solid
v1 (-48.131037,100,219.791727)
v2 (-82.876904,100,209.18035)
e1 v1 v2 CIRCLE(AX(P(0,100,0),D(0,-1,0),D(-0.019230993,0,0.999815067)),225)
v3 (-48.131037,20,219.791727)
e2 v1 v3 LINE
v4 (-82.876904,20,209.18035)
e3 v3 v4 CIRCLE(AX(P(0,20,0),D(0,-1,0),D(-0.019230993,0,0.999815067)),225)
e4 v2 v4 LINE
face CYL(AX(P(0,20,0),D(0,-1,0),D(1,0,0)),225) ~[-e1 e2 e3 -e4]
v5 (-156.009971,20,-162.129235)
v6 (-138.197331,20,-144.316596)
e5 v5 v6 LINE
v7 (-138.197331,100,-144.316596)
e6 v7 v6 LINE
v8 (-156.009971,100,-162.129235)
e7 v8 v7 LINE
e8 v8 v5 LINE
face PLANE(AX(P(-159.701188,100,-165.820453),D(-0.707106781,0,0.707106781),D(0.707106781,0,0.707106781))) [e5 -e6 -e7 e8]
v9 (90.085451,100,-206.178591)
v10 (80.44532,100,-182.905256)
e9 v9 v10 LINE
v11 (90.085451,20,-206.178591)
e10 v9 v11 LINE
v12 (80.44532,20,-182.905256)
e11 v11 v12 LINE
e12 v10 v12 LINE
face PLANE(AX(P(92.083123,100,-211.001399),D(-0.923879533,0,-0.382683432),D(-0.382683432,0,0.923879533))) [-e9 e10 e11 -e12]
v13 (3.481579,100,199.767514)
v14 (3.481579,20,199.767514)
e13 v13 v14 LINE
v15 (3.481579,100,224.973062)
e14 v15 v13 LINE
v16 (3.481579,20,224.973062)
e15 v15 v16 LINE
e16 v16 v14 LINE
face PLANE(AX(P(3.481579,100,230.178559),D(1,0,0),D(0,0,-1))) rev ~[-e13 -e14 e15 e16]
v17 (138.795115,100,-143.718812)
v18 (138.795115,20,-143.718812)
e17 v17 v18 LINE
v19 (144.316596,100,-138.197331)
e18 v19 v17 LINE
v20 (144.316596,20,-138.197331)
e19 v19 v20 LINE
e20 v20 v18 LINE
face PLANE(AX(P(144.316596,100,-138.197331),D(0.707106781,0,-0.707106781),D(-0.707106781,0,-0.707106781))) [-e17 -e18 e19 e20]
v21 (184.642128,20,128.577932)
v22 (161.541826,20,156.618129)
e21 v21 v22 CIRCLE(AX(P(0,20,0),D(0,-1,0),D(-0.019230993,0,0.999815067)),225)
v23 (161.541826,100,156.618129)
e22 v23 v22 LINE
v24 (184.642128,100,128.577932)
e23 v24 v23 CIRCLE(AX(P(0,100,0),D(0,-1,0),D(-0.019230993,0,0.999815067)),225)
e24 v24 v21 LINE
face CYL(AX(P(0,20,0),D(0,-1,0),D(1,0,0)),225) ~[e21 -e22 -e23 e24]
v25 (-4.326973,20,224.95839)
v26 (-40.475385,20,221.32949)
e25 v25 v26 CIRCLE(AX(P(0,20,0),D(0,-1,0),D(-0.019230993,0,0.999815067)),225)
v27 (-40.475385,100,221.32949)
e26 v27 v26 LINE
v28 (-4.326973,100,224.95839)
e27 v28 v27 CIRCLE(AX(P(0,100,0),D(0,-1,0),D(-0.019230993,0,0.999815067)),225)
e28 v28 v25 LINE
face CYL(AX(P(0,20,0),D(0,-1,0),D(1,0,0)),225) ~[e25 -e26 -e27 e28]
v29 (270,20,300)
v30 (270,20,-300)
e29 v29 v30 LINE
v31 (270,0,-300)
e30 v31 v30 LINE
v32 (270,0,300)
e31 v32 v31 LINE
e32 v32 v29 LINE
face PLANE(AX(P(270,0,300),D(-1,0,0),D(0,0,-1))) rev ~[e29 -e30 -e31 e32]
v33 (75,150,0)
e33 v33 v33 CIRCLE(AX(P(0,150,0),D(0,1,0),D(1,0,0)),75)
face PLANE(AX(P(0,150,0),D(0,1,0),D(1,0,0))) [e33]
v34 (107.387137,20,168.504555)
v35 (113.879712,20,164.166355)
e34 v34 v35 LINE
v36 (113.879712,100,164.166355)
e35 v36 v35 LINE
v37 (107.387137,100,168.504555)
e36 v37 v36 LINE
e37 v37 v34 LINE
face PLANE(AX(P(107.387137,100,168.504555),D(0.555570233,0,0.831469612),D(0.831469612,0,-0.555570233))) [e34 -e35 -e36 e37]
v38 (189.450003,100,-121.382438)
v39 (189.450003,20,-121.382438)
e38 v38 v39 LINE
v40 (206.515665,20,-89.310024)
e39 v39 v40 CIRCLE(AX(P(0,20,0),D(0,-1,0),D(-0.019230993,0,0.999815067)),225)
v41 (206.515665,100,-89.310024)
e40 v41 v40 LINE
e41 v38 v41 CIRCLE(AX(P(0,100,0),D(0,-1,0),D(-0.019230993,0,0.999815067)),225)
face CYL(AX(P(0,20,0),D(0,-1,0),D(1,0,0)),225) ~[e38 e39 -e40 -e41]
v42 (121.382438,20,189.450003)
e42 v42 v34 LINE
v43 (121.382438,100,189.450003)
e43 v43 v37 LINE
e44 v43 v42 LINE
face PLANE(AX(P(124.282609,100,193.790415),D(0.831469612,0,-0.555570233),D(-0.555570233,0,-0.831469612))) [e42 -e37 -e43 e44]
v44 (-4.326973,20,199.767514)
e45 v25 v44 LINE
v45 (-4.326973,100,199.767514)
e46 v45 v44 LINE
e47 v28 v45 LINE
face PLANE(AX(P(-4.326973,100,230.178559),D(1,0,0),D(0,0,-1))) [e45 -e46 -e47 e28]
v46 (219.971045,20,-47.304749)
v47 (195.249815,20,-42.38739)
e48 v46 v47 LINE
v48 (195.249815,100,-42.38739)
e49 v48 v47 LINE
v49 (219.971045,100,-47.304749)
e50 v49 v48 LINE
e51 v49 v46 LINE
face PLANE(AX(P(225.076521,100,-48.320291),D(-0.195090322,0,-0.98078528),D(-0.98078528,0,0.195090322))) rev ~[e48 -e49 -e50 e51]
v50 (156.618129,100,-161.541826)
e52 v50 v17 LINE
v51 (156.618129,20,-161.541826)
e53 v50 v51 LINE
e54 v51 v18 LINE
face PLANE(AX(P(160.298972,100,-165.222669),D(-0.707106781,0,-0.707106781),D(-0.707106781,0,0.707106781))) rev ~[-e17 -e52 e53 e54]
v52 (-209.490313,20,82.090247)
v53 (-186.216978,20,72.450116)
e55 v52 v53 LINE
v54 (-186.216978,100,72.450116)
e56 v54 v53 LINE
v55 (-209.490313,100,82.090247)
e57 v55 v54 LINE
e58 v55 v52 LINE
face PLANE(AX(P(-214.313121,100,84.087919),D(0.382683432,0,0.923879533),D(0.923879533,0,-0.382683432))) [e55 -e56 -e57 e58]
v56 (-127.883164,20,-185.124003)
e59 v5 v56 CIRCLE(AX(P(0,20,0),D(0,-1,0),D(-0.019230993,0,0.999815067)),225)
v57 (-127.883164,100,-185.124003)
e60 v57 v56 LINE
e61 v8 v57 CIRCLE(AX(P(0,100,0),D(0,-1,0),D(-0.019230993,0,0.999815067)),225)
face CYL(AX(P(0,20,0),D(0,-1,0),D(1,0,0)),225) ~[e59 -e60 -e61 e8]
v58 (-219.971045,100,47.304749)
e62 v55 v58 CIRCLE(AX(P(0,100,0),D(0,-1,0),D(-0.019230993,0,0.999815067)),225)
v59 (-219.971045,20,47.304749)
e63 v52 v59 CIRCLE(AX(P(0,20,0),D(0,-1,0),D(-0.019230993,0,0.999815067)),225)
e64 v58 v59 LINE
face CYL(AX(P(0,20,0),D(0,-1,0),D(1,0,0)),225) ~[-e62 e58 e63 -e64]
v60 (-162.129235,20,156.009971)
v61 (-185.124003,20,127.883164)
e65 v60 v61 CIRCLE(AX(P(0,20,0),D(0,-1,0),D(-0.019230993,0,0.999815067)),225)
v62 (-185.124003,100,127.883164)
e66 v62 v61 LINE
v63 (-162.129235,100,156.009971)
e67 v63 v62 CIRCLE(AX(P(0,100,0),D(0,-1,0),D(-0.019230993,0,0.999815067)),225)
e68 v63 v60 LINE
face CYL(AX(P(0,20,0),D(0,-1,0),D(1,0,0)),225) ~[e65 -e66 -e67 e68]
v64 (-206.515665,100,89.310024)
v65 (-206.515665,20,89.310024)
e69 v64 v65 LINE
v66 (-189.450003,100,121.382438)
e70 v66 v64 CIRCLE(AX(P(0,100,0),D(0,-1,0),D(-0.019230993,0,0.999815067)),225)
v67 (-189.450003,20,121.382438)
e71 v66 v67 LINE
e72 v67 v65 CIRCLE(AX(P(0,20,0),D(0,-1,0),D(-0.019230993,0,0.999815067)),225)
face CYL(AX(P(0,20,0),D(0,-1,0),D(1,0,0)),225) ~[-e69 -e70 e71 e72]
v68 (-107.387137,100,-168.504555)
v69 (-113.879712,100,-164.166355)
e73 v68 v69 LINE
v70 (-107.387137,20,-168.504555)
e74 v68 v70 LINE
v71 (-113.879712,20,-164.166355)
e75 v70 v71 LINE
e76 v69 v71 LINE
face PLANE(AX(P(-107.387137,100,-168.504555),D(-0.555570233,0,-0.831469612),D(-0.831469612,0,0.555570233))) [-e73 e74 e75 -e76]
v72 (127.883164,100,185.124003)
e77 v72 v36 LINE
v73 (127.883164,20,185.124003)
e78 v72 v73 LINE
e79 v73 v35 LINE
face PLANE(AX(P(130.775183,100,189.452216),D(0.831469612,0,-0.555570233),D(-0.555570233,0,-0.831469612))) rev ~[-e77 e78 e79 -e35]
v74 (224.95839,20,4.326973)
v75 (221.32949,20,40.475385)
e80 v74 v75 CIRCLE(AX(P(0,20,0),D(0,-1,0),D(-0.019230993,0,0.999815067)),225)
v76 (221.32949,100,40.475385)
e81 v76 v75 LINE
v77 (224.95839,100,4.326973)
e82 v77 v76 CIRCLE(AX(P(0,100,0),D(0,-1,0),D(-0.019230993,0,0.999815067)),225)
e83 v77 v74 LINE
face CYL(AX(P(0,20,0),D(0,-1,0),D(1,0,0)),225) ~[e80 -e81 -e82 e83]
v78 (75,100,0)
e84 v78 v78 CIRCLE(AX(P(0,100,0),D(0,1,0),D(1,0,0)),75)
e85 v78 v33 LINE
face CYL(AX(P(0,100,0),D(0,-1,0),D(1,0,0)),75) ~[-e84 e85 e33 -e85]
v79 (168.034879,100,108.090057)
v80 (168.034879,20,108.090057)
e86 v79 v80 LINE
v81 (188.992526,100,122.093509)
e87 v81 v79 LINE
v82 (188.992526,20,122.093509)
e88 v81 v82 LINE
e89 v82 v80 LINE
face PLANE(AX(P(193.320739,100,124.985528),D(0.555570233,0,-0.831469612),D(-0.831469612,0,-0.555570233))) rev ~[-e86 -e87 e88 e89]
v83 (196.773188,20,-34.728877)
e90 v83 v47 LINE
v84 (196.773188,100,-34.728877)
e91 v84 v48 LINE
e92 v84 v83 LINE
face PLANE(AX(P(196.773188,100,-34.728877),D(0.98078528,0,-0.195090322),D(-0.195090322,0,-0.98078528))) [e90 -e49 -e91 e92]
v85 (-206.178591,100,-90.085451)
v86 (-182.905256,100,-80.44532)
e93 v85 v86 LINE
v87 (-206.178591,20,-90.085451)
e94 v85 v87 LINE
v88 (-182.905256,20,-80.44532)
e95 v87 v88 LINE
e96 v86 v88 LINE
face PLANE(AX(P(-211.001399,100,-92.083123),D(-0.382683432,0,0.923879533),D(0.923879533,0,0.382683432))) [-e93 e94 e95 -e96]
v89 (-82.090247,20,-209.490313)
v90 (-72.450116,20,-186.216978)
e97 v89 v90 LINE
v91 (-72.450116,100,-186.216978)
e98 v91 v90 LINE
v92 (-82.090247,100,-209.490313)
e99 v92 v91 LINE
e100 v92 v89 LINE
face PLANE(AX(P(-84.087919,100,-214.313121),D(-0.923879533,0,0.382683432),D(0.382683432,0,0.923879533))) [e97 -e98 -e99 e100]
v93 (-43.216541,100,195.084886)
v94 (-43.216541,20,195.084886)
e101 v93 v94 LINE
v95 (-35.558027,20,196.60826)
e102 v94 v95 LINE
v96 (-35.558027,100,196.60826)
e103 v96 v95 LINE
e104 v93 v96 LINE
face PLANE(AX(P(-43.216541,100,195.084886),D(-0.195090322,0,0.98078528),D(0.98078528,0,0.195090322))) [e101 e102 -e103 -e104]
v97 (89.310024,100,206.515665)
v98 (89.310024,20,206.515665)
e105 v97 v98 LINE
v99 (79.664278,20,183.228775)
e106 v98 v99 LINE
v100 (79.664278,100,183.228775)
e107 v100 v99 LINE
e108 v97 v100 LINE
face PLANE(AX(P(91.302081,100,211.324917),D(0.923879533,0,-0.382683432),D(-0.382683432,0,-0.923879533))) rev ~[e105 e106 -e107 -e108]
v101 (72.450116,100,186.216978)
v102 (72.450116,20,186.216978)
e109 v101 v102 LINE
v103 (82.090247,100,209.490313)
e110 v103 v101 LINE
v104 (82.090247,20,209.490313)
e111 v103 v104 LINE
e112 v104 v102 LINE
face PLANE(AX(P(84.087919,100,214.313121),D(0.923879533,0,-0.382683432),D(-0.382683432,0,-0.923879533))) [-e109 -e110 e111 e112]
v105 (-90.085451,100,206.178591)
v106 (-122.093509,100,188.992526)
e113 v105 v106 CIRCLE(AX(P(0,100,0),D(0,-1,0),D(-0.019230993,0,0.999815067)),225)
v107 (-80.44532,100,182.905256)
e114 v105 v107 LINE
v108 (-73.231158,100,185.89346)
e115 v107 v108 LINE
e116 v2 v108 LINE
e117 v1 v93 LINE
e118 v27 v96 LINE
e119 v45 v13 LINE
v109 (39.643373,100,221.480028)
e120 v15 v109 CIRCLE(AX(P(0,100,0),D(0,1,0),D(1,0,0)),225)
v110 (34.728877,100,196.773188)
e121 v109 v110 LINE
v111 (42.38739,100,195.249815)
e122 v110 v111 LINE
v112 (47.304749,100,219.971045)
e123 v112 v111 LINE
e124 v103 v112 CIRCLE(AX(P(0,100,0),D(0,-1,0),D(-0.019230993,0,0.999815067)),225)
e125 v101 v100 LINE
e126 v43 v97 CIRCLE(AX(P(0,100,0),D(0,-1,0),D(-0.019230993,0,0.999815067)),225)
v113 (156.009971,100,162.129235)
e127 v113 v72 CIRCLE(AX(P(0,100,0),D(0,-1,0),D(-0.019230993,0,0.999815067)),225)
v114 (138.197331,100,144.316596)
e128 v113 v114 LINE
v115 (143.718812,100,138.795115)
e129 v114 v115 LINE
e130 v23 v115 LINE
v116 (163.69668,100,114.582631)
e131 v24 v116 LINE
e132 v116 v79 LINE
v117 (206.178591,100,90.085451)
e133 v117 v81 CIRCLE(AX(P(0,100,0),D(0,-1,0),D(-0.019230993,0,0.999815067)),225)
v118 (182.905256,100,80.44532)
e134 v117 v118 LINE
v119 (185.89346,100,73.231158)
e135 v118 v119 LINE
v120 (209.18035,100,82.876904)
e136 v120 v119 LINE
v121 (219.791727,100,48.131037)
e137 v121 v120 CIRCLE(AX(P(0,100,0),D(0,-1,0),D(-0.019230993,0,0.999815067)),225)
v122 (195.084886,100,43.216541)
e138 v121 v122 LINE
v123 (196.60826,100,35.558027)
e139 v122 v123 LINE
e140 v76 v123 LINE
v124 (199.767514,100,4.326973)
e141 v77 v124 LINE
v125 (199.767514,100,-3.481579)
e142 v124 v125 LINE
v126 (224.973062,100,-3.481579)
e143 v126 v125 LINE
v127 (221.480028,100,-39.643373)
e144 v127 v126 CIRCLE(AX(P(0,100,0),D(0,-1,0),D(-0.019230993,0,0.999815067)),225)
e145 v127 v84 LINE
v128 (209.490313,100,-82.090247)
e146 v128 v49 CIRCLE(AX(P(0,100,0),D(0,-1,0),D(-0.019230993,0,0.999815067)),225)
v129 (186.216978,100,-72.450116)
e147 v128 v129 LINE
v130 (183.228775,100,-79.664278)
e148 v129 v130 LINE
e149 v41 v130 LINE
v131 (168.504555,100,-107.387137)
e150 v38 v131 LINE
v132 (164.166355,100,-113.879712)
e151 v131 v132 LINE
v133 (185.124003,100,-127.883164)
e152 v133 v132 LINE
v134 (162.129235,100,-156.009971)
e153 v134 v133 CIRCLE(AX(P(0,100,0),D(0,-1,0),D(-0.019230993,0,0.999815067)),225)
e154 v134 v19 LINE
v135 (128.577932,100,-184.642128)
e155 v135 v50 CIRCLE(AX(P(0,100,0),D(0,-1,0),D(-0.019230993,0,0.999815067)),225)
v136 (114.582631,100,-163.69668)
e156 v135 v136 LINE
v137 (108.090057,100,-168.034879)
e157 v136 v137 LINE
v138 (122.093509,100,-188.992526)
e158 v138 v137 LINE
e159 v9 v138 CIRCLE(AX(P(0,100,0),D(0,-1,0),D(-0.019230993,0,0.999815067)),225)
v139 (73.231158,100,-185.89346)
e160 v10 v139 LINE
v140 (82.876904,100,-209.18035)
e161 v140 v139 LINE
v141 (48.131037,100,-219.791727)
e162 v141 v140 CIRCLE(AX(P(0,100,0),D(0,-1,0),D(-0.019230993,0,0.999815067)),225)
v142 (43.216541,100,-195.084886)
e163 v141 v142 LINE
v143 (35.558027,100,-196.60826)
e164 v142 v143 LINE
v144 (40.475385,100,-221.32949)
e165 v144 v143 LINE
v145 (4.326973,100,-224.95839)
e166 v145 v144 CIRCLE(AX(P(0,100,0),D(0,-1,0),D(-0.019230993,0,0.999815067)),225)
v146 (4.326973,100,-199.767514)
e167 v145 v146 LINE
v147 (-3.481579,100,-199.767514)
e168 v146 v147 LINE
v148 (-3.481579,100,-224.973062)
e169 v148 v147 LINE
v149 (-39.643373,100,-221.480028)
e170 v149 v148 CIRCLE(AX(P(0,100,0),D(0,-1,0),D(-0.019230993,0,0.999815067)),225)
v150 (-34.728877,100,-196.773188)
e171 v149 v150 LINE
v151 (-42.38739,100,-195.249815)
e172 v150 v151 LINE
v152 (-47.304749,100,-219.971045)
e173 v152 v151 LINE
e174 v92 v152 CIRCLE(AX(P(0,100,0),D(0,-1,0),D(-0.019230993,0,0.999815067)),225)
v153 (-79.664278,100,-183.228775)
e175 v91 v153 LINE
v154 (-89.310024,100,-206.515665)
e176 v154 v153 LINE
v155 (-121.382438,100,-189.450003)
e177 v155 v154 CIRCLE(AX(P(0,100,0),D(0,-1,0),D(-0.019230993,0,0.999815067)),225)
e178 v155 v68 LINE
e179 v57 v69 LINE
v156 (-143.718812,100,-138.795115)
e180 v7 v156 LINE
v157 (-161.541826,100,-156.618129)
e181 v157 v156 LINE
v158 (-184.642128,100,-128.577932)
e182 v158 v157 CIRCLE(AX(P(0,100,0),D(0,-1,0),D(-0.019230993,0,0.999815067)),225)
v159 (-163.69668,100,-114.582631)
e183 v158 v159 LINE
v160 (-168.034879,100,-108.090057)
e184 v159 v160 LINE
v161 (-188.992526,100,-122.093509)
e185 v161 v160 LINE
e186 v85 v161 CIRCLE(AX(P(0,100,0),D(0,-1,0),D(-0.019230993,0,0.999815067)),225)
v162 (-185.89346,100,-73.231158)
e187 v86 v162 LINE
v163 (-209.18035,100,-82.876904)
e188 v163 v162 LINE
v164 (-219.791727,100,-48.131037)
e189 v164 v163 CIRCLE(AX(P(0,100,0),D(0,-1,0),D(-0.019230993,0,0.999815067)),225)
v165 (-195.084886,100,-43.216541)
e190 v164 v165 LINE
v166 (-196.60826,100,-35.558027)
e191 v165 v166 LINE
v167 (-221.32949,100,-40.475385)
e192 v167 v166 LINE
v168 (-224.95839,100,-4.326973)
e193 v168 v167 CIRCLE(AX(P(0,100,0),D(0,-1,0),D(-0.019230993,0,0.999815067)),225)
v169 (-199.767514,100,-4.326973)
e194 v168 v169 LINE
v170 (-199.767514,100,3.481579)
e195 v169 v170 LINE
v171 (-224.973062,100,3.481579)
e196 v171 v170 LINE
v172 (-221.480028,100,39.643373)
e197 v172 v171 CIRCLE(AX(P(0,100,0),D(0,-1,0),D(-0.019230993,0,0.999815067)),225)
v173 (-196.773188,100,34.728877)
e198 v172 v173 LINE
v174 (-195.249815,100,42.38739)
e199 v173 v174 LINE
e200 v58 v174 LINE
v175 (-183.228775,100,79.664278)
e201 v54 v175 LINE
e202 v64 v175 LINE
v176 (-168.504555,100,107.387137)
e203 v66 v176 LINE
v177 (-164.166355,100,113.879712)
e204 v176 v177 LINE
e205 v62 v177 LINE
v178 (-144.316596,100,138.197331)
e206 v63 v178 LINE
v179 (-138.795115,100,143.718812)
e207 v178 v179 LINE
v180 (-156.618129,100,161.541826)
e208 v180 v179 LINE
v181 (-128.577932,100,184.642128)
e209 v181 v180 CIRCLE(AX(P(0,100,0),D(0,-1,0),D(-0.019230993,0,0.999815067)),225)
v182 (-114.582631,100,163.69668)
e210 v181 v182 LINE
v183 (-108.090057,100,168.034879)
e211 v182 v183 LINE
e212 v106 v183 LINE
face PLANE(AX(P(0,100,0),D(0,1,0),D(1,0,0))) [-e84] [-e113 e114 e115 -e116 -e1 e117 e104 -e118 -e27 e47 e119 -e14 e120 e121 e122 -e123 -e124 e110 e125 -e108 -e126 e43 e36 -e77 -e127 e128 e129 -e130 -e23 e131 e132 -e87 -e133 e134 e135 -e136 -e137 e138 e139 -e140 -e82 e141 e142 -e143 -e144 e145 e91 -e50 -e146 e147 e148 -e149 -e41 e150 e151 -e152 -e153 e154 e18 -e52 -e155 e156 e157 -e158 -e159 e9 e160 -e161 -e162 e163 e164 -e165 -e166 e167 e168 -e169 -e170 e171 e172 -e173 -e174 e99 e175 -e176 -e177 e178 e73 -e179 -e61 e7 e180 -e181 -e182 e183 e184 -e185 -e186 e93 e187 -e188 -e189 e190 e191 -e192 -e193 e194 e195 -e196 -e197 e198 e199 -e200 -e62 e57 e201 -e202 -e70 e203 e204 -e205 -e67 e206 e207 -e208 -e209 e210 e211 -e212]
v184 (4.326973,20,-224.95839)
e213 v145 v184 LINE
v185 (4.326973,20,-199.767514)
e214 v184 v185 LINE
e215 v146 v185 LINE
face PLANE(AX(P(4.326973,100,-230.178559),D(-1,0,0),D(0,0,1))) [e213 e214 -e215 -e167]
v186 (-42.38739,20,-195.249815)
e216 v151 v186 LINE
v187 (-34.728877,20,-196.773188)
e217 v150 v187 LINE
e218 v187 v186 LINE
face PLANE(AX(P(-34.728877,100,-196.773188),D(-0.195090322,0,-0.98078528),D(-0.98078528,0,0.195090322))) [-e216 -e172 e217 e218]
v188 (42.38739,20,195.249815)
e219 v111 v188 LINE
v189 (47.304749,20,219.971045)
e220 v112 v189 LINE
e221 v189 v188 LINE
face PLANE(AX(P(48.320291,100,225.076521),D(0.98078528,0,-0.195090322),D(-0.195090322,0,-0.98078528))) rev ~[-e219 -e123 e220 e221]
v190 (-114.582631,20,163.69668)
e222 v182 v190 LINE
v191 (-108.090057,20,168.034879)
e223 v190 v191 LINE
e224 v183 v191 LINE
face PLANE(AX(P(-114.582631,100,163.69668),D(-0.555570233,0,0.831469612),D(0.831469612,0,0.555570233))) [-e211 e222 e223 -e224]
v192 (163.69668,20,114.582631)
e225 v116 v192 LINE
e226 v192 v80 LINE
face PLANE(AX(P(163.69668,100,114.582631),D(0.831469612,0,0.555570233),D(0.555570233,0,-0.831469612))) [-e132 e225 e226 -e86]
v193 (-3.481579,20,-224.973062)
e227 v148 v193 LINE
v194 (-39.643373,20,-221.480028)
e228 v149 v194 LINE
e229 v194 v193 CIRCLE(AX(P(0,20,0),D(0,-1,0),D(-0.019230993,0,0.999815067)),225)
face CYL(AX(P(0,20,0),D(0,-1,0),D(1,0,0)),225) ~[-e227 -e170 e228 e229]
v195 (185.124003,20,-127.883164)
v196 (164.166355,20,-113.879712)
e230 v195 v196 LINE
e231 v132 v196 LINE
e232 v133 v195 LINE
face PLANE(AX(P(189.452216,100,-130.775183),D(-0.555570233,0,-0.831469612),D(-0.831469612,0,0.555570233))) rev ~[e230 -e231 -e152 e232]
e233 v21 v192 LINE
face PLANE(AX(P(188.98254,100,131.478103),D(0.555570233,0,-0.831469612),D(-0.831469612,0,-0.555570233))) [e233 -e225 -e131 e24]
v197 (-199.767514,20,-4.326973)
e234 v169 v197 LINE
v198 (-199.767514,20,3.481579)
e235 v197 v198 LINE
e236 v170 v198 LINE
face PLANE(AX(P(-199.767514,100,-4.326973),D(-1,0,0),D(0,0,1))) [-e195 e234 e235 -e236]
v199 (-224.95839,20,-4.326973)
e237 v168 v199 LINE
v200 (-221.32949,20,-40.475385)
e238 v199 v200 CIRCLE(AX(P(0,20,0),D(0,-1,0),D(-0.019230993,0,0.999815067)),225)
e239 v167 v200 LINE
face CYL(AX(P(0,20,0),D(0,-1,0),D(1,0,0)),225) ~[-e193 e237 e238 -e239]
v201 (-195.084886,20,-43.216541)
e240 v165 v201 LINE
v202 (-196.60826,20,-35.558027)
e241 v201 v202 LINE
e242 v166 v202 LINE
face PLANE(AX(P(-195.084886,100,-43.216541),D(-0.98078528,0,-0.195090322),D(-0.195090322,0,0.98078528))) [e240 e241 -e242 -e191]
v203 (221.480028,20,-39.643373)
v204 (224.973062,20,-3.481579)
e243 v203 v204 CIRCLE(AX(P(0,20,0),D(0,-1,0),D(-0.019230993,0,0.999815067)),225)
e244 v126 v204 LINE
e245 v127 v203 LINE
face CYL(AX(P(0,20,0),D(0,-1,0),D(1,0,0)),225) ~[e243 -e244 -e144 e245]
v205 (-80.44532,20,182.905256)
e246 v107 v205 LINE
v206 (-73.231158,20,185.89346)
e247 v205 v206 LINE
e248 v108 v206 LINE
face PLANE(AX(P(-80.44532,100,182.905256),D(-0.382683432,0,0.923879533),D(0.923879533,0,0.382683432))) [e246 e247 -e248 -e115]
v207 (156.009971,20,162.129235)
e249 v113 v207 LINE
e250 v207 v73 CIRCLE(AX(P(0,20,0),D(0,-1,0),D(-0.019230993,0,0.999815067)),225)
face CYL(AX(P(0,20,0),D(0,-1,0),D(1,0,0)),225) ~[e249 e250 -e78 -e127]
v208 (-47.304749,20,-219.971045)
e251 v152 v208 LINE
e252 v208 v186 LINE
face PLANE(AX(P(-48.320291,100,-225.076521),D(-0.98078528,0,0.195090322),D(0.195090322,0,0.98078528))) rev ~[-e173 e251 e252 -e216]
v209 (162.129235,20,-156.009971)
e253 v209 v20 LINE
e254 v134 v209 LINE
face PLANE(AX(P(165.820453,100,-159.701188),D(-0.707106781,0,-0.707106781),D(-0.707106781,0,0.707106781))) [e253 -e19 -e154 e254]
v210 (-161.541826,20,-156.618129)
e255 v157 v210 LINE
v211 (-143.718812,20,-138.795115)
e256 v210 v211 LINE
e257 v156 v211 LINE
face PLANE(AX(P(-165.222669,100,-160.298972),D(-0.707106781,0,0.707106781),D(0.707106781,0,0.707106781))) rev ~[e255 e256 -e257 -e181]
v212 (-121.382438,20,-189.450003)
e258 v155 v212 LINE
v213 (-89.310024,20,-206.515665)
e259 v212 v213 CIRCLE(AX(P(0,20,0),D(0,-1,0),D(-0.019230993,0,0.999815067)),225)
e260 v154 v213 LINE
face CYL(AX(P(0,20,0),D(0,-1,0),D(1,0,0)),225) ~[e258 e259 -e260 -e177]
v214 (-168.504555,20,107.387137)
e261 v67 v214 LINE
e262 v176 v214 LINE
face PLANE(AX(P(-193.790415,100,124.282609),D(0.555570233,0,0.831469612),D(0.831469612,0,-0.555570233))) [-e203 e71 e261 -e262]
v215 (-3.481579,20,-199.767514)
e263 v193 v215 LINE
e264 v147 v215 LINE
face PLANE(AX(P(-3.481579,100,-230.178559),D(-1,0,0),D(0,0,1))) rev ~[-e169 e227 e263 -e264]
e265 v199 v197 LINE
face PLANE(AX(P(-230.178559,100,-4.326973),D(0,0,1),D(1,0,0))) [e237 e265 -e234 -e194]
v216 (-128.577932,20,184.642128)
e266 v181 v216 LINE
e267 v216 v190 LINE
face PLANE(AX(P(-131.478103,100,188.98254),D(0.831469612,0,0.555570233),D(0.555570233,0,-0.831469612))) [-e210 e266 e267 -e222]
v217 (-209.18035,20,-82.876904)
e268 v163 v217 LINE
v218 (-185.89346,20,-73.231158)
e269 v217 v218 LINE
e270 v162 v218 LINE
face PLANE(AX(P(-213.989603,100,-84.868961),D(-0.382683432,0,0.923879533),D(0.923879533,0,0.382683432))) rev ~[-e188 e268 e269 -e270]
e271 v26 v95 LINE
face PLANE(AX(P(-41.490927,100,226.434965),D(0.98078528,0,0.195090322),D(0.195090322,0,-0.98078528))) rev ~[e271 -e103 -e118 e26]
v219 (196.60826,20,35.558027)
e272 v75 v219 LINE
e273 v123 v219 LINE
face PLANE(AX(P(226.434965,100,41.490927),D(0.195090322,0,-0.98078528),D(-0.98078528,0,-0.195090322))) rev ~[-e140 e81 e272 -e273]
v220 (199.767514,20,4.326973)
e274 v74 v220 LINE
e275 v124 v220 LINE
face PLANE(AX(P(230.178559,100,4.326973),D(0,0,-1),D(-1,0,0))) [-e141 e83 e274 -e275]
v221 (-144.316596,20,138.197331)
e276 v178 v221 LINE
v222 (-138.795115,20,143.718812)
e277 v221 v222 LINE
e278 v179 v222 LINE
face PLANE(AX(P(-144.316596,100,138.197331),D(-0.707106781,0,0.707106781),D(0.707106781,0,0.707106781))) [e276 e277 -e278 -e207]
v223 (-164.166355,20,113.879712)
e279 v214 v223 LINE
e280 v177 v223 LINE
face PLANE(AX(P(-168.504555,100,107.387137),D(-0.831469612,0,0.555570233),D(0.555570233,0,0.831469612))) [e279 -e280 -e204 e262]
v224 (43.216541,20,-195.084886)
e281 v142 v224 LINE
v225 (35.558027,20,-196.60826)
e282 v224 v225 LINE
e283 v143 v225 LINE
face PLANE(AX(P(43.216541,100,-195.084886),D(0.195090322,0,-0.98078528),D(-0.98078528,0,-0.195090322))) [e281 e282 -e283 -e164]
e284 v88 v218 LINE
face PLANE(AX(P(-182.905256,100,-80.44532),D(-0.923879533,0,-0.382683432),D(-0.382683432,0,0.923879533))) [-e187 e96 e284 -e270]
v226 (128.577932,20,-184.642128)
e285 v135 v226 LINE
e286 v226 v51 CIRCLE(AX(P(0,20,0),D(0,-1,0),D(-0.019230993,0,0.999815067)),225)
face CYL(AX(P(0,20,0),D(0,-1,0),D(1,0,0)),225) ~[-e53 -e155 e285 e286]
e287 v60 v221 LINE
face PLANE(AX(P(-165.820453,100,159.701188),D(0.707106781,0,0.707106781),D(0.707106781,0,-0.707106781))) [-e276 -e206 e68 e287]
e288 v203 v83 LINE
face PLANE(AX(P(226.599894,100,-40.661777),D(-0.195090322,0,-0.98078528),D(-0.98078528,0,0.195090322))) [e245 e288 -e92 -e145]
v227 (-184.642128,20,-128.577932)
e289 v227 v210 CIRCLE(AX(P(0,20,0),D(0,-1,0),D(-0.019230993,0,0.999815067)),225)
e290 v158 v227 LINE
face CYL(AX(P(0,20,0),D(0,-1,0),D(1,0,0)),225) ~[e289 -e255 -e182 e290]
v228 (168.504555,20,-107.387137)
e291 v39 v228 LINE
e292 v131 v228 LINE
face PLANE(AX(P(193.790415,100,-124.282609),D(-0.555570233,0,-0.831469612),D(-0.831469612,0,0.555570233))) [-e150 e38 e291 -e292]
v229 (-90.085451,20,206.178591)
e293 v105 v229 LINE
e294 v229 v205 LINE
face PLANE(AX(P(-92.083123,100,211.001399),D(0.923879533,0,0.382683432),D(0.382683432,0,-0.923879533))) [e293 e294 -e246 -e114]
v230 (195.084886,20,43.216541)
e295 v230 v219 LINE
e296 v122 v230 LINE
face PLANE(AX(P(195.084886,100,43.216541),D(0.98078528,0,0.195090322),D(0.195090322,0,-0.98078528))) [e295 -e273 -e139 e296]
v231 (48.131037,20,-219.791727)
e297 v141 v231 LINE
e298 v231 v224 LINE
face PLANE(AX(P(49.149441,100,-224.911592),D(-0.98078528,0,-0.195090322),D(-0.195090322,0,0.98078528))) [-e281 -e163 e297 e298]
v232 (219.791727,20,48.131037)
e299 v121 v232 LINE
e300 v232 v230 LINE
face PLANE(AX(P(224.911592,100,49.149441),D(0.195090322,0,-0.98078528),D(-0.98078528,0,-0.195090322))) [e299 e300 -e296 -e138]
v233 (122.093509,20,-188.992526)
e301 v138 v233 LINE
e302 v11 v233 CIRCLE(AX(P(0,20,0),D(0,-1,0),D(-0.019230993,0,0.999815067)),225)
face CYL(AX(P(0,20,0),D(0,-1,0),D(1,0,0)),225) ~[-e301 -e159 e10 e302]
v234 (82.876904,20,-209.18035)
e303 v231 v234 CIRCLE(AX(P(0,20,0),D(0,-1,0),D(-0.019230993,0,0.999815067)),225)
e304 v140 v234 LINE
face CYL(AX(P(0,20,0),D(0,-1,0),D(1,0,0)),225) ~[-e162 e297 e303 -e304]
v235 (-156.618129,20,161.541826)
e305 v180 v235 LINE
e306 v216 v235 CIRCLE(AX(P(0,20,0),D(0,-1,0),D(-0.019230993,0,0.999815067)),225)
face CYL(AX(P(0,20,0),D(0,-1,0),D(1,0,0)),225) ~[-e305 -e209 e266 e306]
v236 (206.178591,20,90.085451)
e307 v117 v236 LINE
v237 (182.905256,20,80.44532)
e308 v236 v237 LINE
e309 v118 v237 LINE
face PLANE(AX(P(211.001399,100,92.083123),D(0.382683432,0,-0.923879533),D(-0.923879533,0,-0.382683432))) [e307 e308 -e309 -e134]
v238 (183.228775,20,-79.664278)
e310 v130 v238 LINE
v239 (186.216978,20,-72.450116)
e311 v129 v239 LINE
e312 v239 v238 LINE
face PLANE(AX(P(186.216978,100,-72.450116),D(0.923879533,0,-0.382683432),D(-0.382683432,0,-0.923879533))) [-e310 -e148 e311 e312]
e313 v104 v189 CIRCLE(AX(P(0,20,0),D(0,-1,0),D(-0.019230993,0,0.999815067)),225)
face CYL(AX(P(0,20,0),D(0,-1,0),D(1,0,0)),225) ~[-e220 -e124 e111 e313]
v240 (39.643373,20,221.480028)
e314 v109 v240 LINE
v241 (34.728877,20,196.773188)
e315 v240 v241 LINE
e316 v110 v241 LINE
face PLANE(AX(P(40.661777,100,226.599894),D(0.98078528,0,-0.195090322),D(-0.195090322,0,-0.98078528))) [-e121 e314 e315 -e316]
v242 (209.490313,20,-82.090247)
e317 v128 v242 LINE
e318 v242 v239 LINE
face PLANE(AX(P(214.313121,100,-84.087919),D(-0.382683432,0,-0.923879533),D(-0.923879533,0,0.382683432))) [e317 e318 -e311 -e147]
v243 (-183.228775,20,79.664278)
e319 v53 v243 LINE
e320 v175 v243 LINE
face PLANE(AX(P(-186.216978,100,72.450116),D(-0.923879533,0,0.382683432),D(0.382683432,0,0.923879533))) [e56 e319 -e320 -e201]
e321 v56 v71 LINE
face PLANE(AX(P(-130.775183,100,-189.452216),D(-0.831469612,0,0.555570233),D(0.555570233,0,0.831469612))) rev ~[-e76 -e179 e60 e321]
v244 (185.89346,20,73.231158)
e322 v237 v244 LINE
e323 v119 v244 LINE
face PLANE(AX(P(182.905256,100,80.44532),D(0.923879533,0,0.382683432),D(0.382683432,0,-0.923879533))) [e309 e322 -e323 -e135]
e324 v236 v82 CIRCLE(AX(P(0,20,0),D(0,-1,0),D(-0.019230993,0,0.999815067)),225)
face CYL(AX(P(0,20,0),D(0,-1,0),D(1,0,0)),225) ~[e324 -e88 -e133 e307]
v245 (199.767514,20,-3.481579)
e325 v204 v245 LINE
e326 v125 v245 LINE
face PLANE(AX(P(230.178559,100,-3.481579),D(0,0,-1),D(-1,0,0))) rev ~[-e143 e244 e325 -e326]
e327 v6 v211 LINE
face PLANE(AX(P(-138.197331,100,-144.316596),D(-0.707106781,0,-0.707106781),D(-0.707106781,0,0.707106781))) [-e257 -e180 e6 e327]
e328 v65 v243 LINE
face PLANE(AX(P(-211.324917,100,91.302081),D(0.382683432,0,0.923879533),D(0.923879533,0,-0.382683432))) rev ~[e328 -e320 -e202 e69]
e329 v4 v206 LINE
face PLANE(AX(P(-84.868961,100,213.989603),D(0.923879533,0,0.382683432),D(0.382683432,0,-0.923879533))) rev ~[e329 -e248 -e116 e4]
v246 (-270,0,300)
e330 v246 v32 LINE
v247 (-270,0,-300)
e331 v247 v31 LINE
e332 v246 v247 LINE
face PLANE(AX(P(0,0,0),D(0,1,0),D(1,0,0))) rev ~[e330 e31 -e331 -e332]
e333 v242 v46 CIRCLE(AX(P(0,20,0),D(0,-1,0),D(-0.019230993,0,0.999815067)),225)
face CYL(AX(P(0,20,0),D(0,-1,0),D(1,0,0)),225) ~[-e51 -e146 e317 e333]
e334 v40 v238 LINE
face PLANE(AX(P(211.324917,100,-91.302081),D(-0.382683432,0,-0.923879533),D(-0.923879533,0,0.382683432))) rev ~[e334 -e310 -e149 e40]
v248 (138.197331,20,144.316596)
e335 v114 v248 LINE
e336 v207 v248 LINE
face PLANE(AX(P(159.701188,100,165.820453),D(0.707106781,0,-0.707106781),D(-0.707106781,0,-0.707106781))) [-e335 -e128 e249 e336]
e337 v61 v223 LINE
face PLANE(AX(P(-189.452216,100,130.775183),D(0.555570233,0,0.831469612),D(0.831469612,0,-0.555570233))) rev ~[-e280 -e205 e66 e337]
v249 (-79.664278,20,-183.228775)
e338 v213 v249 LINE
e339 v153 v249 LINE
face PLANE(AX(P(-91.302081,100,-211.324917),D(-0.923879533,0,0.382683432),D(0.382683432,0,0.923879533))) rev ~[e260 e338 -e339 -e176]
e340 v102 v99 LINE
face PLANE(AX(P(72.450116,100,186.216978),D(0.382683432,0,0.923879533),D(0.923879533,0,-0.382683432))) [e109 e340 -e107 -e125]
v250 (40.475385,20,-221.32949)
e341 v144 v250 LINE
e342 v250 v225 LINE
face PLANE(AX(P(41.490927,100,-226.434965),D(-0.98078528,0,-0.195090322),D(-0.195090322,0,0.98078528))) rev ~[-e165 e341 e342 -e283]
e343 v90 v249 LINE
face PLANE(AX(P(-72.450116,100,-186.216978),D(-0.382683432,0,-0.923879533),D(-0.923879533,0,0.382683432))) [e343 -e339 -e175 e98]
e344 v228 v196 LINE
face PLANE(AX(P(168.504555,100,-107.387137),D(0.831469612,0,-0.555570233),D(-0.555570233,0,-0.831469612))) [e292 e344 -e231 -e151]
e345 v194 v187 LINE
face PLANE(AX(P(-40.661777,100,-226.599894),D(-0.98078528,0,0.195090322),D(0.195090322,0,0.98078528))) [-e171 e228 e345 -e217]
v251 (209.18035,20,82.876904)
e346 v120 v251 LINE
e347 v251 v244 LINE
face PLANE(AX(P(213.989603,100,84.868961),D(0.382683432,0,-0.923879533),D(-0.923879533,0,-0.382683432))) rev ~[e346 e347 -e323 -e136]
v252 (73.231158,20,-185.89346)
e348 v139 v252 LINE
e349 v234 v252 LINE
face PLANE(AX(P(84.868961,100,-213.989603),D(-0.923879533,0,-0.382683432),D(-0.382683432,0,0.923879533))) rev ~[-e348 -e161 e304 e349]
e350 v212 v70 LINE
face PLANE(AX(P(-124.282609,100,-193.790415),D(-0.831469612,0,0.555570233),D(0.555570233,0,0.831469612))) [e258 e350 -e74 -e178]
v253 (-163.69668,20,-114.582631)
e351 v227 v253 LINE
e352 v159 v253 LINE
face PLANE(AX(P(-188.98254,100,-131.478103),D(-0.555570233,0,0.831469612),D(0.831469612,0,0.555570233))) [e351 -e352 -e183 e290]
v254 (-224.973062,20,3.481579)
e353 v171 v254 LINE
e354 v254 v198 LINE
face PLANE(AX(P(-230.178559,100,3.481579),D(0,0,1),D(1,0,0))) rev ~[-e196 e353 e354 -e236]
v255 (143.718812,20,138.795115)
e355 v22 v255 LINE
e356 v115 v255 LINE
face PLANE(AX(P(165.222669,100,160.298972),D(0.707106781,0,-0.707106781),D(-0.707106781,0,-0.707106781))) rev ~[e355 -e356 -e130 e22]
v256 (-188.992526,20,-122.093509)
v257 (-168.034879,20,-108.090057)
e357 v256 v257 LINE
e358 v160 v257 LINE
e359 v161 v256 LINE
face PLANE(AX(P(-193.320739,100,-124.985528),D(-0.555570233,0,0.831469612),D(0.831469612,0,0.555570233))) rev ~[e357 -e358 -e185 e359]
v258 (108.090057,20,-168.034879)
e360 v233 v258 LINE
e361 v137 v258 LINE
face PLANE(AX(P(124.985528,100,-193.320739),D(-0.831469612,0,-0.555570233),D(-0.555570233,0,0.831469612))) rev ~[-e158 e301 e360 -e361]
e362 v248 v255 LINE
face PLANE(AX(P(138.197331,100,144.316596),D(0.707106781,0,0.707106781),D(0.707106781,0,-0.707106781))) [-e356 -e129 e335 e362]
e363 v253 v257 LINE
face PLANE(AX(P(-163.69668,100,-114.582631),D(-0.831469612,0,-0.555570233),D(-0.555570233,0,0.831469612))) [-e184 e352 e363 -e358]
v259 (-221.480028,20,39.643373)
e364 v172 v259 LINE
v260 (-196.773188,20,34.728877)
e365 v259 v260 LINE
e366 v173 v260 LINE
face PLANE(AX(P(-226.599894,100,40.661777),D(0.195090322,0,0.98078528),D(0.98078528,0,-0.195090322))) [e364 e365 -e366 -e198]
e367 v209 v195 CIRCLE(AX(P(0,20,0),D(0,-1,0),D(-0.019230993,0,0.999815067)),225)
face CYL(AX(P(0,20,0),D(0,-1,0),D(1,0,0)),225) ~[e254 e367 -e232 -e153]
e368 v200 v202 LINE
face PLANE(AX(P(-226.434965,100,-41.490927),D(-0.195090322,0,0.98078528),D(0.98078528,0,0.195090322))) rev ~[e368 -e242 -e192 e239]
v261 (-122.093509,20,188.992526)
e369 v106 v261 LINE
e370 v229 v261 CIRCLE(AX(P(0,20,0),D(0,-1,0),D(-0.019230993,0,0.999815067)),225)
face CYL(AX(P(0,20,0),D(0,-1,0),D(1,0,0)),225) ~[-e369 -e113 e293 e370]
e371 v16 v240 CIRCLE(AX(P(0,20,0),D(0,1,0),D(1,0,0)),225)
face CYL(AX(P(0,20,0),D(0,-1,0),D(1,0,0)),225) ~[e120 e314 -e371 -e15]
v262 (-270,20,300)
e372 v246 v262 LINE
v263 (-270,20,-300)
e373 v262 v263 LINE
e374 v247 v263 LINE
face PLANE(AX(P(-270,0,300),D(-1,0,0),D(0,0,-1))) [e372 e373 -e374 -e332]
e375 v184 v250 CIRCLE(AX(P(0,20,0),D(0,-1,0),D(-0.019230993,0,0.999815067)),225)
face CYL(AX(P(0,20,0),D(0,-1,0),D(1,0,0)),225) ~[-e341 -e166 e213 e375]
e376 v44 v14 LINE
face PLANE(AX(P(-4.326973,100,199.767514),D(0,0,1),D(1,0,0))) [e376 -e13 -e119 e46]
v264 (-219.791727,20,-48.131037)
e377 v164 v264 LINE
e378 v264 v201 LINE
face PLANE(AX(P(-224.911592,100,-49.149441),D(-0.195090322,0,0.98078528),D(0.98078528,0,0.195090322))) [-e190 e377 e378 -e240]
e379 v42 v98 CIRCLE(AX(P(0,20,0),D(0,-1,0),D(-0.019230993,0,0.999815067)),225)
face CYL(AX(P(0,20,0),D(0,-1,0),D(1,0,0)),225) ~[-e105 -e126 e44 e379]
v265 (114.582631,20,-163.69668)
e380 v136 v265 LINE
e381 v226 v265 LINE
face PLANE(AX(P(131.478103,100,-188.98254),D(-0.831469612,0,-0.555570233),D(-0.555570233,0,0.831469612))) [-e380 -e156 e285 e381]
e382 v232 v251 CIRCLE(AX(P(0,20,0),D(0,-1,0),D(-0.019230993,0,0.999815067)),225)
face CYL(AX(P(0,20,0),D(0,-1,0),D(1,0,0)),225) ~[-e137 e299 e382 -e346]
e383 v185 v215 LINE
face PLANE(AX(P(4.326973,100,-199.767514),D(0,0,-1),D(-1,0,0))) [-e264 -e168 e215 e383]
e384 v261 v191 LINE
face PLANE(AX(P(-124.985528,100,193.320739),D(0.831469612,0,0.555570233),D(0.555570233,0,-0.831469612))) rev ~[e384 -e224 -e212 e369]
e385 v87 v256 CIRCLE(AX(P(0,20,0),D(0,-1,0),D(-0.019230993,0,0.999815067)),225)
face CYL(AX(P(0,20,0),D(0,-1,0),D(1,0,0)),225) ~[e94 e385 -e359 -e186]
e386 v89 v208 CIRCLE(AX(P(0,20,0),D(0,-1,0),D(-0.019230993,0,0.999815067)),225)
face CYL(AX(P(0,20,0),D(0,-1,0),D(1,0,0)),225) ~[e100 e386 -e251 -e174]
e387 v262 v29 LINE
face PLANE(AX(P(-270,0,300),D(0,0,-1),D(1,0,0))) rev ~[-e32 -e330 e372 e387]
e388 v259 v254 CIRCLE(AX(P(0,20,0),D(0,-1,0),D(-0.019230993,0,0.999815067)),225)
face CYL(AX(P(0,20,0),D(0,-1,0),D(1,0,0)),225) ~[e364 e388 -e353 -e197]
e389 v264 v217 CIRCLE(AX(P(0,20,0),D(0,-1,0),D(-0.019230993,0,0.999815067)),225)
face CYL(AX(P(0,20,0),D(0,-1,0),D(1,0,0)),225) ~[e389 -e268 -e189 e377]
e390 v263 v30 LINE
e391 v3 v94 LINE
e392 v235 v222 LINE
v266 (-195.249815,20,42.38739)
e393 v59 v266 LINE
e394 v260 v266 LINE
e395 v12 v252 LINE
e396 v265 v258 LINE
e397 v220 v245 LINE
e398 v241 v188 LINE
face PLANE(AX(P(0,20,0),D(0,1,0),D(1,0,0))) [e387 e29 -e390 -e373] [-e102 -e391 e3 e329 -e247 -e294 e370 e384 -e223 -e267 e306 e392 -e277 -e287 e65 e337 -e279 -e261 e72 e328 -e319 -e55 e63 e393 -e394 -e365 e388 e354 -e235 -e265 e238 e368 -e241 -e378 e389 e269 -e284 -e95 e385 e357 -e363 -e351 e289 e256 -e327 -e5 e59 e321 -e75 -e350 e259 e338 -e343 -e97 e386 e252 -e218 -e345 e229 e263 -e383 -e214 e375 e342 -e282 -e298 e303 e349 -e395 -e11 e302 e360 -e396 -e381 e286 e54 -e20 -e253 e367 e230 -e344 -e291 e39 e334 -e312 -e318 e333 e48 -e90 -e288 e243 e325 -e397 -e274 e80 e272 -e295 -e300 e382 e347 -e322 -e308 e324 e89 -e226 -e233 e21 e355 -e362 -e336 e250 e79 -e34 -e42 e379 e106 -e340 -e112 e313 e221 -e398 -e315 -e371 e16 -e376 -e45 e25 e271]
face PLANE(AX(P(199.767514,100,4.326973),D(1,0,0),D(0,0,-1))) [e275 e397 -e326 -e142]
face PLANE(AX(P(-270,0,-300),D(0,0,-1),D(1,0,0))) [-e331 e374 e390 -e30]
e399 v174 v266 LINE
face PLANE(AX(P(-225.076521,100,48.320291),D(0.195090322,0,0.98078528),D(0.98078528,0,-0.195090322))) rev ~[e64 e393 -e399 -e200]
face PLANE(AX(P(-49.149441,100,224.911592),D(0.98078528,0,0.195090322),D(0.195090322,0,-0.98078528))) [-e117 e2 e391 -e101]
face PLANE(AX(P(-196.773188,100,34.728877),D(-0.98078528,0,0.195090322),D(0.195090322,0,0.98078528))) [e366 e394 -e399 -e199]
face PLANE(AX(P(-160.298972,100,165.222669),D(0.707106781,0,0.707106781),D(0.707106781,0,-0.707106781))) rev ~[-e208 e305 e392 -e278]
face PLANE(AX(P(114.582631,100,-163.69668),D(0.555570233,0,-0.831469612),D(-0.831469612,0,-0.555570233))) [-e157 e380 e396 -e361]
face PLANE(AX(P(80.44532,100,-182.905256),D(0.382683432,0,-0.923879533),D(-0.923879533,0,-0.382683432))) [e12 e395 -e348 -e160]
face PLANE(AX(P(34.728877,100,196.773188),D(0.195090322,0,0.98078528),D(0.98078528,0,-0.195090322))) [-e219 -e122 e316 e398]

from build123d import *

# Parameters (mm, degrees)
SKETCH1_W           = 540
SKETCH1_H           = 600
BOSS_EXTRUDE1_DEPTH = 20
SKETCH2_R           = 225
BOSS_EXTRUDE2_DEPTH = 80
SKETCH3_R           = 75
BOSS_EXTRUDE3_DEPTH = 50
SKETCH4_W           = 7.808552915
SKETCH4_H           = 30.411045622
CUT_EXTRUDE2_DEPTH  = 80
CIRPATTERN1_COUNT   = 32


with BuildPart() as part:
    # Sketch1 → Boss-Extrude1 (new body)
    with BuildSketch(Plane(origin=(0, 0, 0), x_dir=(1, 0, 0), z_dir=(0, 1, 0))):
        Rectangle(SKETCH1_W, SKETCH1_H)
    extrude(amount=BOSS_EXTRUDE1_DEPTH)

    # Sketch2 → Boss-Extrude2 (add)
    with BuildSketch(Plane(origin=(0, 20, 0), x_dir=(1, 0, 0), z_dir=(0, 1, 0))):
        Circle(SKETCH2_R)
    extrude(amount=BOSS_EXTRUDE2_DEPTH)

    # Sketch3 → Boss-Extrude3 (add)
    with BuildSketch(Plane(origin=(0, 100, 0), x_dir=(1, 0, 0), z_dir=(0, 1, 0))):
        Circle(SKETCH3_R)
    extrude(amount=BOSS_EXTRUDE3_DEPTH)

    # Sketch4 → Cut-Extrude2 (cut)
    with BuildSketch(Plane(origin=(0, 100, 0), x_dir=(1, 0, 0), z_dir=(0, 1, 0))):
        with Locations((-0.422697027, -214.97303666)):
            Rectangle(SKETCH4_W, SKETCH4_H)
    cut_extrude2 = extrude(amount=-CUT_EXTRUDE2_DEPTH, mode=Mode.SUBTRACT)

    # CirPattern1: Cut-Extrude2 ×32 about axis
    cirpattern1_axis = Axis((0, 0, 0), (0, 1, 0))
    for i in range(1, CIRPATTERN1_COUNT):
        add(cut_extrude2.rotate(cirpattern1_axis, i * 360 / CIRPATTERN1_COUNT), mode=Mode.SUBTRACT)


solid = part.part
